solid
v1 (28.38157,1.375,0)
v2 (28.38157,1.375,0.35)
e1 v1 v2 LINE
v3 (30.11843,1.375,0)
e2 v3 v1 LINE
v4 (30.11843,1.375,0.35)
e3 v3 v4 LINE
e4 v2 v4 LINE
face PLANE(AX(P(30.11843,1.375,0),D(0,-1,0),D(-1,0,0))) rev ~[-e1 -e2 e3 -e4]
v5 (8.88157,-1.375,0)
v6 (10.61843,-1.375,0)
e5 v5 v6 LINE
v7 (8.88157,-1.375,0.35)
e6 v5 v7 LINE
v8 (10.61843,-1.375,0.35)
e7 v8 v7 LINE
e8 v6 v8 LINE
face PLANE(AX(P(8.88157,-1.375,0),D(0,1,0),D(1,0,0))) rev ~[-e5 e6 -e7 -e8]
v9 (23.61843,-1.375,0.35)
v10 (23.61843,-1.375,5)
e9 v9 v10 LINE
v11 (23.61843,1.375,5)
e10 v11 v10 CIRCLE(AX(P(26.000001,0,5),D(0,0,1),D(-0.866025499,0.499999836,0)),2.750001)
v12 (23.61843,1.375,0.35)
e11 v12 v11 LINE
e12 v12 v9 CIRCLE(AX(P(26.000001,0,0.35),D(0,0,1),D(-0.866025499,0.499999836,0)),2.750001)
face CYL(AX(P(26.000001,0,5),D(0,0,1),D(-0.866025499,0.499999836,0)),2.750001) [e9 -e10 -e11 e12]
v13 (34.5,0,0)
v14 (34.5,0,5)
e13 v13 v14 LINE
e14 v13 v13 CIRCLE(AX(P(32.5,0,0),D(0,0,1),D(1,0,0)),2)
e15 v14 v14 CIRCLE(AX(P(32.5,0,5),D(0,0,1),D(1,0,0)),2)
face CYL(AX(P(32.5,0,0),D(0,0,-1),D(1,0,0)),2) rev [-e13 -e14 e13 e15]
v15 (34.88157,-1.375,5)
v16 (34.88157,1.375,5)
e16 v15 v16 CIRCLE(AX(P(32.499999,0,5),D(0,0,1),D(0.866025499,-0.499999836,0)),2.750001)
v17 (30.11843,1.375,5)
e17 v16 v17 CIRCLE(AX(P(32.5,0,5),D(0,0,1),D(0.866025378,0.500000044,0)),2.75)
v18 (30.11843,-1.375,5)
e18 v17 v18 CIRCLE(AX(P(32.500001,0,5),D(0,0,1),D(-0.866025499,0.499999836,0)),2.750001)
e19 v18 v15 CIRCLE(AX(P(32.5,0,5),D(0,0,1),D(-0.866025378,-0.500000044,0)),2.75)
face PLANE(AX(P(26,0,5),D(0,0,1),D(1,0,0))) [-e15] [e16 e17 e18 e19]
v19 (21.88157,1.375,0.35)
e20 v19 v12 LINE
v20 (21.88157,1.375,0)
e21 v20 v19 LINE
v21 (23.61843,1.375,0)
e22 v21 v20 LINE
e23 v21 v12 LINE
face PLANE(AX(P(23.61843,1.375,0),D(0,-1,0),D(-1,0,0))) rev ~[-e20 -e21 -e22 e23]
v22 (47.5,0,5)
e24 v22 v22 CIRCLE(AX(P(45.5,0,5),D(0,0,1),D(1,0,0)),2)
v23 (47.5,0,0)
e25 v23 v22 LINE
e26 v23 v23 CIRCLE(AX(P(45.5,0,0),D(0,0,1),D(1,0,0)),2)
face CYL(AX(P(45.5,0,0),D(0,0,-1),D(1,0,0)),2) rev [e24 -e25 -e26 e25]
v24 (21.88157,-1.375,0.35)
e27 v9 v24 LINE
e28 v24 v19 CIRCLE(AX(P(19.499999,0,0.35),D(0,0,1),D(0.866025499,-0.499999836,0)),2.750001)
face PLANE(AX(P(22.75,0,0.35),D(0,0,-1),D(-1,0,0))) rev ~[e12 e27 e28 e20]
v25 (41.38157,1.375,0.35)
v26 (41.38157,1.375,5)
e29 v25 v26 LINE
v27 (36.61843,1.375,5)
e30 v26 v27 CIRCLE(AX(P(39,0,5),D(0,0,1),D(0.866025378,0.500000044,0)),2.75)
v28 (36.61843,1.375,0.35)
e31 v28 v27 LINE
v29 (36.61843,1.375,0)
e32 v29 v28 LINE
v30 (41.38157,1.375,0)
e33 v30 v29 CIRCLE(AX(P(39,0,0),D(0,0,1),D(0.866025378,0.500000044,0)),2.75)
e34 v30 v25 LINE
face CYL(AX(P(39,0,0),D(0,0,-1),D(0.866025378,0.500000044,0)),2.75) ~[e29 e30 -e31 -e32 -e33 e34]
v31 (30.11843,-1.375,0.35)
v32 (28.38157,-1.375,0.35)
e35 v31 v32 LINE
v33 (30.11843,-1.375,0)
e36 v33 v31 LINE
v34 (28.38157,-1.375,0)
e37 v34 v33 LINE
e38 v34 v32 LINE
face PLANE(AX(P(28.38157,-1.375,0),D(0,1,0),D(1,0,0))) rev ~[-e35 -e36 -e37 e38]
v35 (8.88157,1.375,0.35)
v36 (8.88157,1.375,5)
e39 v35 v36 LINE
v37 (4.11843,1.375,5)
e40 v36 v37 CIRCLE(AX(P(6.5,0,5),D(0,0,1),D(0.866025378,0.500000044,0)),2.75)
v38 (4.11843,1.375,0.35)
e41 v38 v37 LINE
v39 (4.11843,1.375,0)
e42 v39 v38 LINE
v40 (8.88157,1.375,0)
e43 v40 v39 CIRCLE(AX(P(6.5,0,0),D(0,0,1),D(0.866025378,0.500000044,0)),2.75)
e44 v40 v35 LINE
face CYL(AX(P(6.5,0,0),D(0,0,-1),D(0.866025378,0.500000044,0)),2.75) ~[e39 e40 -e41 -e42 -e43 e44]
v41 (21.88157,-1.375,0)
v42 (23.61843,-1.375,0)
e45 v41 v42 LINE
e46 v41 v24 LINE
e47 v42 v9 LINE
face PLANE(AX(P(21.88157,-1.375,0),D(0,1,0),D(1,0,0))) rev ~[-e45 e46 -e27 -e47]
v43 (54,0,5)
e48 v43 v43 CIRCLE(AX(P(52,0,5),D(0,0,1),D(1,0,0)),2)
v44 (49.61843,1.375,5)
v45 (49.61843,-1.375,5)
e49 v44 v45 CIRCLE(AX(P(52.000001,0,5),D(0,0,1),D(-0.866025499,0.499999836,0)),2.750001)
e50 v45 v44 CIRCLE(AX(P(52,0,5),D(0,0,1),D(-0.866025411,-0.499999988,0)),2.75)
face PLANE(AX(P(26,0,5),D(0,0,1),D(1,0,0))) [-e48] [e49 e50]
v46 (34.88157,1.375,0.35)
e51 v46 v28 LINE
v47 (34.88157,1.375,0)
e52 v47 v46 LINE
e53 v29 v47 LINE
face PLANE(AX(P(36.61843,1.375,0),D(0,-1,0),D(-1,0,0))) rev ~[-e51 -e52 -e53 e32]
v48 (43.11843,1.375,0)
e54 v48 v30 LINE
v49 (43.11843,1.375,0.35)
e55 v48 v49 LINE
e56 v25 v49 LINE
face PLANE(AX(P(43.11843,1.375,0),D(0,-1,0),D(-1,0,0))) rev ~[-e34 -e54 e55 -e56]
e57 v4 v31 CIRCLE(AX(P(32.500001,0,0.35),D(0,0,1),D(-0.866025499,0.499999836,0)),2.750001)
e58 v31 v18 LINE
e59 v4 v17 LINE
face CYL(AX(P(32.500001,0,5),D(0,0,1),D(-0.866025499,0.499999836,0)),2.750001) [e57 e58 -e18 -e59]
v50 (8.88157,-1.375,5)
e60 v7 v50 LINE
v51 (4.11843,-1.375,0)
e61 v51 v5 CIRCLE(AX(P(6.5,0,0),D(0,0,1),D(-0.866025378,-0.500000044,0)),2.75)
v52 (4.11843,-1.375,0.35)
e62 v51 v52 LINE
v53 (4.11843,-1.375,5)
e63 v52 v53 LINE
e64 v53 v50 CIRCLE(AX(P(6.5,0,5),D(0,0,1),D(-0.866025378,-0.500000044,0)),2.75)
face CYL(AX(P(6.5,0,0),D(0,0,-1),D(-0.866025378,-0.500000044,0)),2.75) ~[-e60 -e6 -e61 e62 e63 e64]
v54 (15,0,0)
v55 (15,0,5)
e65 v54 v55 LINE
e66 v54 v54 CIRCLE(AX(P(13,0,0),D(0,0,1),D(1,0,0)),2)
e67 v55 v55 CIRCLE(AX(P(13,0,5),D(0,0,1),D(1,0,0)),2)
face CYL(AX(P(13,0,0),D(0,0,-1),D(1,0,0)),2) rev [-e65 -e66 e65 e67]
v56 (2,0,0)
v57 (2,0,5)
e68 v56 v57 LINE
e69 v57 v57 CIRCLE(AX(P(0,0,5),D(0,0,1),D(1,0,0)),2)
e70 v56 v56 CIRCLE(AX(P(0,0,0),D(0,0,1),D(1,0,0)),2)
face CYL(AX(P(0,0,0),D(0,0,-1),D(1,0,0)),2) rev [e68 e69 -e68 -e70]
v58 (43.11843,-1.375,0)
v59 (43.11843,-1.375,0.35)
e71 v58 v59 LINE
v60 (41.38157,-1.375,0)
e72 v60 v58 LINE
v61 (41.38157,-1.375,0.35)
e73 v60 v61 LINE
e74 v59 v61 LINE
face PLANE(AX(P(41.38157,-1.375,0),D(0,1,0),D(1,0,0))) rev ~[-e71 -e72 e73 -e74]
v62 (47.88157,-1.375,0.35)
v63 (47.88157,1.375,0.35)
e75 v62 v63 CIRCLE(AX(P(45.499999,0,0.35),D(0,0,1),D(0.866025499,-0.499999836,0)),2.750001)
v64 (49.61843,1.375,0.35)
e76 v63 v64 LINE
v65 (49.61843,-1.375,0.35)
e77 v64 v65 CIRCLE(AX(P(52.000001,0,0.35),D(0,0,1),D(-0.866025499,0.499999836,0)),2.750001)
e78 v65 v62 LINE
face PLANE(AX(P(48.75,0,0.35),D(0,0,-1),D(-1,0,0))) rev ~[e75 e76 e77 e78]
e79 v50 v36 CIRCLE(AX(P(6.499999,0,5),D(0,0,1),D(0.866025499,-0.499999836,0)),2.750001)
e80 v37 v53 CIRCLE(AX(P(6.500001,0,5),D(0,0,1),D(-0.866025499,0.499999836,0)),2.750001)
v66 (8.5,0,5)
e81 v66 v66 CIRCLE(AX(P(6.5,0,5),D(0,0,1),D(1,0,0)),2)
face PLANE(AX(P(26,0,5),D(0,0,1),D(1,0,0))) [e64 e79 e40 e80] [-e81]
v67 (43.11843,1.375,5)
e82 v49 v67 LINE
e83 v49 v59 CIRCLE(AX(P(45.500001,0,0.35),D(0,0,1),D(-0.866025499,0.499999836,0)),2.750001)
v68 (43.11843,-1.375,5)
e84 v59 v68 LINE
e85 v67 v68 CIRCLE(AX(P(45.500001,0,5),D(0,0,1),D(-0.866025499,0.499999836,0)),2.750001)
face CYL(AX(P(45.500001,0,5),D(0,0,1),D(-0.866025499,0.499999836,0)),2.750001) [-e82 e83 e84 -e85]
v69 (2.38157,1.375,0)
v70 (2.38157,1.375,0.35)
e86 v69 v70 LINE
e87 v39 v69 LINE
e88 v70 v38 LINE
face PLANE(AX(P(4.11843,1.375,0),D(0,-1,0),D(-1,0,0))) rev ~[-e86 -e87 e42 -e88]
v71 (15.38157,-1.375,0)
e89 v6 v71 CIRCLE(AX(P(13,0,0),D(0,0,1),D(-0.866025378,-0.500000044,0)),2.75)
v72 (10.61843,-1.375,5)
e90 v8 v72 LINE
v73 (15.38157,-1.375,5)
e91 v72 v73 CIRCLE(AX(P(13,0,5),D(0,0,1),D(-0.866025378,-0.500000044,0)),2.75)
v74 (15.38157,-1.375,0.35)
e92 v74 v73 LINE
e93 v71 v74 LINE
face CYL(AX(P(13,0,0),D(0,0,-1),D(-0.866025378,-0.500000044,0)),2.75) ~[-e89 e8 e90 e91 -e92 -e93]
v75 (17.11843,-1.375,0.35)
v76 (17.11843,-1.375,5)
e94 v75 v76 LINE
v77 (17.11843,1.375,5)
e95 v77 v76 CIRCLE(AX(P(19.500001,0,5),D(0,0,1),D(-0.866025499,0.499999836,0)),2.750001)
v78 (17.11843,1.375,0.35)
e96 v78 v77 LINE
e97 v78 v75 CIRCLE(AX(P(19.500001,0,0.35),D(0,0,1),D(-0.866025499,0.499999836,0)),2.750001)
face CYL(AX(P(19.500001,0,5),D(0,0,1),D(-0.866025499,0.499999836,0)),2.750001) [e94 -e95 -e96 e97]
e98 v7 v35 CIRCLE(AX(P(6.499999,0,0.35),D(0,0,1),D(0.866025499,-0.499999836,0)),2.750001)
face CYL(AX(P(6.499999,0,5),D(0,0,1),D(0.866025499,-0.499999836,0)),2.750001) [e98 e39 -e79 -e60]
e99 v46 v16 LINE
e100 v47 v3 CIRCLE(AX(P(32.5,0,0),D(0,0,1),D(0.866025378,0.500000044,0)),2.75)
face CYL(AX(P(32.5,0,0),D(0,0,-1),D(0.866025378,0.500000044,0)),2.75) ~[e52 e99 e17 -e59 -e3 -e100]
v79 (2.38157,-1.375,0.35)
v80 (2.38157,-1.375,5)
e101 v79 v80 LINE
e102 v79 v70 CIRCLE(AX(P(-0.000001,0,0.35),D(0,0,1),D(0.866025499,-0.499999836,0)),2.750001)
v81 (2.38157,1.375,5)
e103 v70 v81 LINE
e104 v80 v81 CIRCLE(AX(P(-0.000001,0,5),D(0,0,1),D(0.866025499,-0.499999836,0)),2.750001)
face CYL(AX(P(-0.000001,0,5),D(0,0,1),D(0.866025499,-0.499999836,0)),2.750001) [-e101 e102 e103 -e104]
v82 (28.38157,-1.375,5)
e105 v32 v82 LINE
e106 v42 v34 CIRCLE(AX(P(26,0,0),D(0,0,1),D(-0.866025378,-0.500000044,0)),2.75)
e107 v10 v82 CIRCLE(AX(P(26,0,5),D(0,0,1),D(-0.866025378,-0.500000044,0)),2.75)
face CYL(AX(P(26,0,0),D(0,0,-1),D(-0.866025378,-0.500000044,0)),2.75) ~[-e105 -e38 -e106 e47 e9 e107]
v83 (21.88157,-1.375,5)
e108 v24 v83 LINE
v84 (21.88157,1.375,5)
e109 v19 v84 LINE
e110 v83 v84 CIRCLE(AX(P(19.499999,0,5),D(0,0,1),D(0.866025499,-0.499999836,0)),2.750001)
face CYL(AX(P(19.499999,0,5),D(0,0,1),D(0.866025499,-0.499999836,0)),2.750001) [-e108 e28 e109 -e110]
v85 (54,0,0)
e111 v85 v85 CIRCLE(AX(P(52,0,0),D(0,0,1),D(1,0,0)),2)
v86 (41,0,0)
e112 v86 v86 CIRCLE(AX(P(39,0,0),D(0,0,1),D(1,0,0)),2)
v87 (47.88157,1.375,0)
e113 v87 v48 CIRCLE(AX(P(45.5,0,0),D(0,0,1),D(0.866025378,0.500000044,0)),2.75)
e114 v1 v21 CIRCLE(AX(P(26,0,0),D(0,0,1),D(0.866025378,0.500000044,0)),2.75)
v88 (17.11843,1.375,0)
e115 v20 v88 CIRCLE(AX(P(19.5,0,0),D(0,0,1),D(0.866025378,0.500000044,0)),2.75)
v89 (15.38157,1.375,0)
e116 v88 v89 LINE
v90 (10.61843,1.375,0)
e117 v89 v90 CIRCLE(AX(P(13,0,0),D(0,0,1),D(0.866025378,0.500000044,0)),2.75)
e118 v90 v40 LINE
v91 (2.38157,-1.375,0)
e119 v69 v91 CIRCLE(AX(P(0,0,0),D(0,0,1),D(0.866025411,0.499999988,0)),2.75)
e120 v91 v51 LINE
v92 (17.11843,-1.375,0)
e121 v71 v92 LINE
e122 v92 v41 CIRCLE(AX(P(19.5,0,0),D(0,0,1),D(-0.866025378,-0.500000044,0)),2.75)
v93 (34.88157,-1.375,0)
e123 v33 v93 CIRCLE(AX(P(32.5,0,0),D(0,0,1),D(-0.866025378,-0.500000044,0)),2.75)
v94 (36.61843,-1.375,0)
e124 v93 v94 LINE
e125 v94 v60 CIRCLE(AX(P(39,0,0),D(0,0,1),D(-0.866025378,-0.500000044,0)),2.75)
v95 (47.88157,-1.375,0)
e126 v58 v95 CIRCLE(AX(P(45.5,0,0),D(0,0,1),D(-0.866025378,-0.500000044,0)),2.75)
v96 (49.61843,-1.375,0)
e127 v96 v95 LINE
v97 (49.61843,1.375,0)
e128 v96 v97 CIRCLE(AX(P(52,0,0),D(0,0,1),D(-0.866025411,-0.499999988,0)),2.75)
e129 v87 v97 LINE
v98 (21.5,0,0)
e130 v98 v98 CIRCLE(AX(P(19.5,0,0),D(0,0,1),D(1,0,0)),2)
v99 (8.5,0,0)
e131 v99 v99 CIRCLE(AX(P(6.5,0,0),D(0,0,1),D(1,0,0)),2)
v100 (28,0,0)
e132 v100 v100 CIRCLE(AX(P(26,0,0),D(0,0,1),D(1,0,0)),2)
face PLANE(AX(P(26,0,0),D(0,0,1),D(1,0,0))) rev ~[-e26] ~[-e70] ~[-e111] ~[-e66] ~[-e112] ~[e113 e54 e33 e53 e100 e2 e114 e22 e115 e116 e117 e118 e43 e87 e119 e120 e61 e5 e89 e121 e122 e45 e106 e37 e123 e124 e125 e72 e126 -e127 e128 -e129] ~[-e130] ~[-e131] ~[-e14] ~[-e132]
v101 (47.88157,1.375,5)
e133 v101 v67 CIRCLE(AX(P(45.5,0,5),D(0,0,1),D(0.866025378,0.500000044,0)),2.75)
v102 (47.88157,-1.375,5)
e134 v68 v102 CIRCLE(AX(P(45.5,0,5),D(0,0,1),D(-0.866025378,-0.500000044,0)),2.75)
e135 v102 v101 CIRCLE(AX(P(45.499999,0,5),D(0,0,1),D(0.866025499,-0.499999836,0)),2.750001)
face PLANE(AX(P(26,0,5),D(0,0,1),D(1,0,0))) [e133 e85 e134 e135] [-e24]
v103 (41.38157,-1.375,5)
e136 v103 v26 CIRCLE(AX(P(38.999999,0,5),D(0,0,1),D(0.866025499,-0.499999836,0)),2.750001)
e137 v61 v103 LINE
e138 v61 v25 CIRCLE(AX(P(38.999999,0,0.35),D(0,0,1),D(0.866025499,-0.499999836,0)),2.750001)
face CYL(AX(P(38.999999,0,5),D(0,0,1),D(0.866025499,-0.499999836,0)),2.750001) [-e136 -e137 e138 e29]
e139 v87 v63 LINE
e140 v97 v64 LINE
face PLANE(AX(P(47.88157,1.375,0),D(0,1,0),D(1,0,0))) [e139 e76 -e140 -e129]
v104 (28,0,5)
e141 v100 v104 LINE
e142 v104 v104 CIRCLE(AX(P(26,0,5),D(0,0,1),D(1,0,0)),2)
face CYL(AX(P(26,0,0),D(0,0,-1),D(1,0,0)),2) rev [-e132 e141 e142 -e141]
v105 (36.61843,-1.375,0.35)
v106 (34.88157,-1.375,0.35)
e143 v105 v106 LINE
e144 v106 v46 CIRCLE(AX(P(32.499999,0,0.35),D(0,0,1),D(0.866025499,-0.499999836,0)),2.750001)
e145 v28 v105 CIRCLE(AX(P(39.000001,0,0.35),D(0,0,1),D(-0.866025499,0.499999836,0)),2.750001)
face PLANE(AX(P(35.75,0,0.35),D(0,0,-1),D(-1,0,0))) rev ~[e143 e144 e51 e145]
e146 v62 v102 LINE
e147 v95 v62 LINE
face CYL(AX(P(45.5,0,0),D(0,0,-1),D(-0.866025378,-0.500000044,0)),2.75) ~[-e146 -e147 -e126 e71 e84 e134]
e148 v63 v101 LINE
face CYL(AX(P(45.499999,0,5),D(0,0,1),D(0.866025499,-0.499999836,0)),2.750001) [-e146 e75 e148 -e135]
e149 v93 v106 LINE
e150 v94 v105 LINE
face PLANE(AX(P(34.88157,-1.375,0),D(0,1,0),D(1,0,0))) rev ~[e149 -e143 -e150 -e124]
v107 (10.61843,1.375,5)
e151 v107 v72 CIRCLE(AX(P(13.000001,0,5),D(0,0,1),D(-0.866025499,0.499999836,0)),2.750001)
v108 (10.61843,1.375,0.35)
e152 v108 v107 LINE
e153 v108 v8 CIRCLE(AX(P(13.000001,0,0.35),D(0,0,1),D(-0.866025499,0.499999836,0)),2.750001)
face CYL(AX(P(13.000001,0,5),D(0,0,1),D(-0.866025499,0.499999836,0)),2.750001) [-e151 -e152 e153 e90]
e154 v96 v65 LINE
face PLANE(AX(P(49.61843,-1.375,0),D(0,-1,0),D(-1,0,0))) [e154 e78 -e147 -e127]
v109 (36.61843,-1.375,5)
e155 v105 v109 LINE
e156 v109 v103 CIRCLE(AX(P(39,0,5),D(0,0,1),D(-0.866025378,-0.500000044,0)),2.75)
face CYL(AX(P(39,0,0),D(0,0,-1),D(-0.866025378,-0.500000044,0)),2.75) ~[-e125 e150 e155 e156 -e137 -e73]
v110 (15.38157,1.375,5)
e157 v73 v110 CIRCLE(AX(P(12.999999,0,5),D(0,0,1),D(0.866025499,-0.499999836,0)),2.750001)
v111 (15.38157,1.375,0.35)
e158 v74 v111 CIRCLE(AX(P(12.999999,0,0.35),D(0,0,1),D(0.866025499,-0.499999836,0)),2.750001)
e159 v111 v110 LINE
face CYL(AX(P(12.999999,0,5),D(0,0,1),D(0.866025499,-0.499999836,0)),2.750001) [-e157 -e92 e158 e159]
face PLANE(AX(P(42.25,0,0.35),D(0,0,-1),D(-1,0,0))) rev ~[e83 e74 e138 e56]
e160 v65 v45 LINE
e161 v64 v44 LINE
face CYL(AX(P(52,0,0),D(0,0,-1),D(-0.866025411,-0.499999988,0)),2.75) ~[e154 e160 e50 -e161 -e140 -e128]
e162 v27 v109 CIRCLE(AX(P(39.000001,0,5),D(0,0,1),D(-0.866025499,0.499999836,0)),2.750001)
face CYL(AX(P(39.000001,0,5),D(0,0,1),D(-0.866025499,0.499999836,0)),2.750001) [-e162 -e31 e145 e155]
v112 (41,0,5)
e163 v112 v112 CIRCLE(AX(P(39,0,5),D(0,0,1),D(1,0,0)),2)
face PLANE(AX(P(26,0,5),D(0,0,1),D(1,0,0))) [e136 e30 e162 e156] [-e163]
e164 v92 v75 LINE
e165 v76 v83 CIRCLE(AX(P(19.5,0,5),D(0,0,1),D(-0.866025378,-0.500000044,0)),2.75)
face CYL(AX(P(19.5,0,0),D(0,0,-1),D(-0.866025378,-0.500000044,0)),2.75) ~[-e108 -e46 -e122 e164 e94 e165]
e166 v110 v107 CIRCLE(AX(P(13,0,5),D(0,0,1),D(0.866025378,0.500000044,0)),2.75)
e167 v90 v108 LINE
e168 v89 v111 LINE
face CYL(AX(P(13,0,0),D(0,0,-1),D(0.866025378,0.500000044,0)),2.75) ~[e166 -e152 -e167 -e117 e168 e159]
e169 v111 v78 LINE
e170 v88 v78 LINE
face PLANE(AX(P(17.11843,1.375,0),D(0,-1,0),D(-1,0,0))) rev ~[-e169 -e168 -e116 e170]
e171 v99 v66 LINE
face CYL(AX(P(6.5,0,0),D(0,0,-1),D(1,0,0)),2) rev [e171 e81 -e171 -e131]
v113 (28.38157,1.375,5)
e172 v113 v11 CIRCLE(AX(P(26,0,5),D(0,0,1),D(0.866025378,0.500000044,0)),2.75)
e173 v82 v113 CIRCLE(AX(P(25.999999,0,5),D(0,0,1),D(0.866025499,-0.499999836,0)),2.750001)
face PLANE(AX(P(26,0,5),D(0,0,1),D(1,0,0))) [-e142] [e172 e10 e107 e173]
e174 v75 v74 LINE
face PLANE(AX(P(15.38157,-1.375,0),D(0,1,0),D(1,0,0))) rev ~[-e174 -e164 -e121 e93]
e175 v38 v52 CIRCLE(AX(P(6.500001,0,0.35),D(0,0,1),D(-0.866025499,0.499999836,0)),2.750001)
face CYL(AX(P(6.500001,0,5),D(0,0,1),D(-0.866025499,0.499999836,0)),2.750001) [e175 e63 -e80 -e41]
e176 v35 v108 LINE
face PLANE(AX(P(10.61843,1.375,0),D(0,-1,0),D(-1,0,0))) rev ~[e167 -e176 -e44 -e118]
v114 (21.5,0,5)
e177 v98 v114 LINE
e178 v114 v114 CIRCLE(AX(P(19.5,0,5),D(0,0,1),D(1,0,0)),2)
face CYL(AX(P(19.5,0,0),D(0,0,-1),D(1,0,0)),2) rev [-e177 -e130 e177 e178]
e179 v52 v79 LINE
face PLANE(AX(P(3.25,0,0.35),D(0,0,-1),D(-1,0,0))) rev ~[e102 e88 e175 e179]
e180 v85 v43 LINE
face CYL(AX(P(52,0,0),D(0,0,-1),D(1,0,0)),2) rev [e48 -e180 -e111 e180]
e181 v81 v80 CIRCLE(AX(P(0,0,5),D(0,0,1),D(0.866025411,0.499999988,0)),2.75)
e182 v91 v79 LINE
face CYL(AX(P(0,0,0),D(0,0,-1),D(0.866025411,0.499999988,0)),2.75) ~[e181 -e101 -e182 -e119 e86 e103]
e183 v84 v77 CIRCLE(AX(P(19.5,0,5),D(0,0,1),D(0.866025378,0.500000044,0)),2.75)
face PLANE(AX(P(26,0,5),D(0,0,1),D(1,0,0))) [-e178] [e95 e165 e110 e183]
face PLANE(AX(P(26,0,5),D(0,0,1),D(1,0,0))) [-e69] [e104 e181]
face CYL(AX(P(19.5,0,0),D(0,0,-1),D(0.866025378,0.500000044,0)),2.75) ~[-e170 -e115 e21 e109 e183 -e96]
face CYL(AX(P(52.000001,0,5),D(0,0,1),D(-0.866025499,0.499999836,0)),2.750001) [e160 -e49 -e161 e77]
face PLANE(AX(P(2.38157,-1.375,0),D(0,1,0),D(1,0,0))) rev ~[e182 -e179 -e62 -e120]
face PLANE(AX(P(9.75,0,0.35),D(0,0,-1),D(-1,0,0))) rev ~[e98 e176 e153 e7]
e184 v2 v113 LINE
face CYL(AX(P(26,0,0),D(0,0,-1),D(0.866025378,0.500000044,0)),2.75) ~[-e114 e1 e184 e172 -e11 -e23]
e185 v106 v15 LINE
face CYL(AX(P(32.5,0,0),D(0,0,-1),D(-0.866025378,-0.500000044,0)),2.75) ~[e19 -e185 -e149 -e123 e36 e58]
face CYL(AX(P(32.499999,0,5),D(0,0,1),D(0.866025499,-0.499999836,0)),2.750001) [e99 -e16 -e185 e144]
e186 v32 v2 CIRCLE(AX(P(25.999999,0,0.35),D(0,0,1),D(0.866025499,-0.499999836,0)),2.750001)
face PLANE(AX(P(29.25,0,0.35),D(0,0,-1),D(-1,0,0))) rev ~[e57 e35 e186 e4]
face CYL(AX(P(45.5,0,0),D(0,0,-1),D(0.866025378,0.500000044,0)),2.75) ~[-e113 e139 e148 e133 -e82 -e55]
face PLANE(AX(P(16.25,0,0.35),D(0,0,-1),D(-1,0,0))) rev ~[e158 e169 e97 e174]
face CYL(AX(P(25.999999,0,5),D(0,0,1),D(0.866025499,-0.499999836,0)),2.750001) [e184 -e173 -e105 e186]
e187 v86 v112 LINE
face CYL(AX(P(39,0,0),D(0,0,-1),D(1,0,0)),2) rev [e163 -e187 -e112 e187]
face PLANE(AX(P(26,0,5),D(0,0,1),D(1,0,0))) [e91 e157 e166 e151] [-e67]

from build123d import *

# Parameters (mm, degrees)
SKETCH_R     = 2
PAD_DEPTH    = 5
POCKET_DEPTH = 4.65


with BuildPart() as part:
    # Sketch → Pad (new body)
    with BuildSketch(Plane.XY):
        with BuildLine():
            ThreePointArc((49.61843, -1.375), (54.75, 0), (49.61843, 1.375))
            Line((47.88157, 1.375), (49.61843, 1.375))
            ThreePointArc((47.88157, 1.375), (45.5, 2.75), (43.11843, 1.375))
            Line((43.11843, 1.375), (41.38157, 1.375))
            ThreePointArc((41.38157, 1.375), (39, 2.75), (36.61843, 1.375))
            Line((36.61843, 1.375), (34.88157, 1.375))
            ThreePointArc((34.88157, 1.375), (32.5, 2.75), (30.11843, 1.375))
            Line((30.11843, 1.375), (28.38157, 1.375))
            ThreePointArc((28.38157, 1.375), (26, 2.75), (23.61843, 1.375))
            Line((23.61843, 1.375), (21.88157, 1.375))
            ThreePointArc((21.88157, 1.375), (19.5, 2.75), (17.11843, 1.375))
            Line((17.11843, 1.375), (15.38157, 1.375))
            ThreePointArc((15.38157, 1.375), (13, 2.75), (10.61843, 1.375))
            Line((10.61843, 1.375), (8.88157, 1.375))
            ThreePointArc((8.88157, 1.375), (6.5, 2.75), (4.11843, 1.375))
            Line((4.11843, 1.375), (2.38157, 1.375))
            ThreePointArc((2.38157, 1.375), (-2.75, 0), (2.38157, -1.375))
            Line((2.38157, -1.375), (4.11843, -1.375))
            ThreePointArc((4.11843, -1.375), (6.5, -2.75), (8.88157, -1.375))
            Line((8.88157, -1.375), (10.61843, -1.375))
            ThreePointArc((10.61843, -1.375), (13, -2.75), (15.38157, -1.375))
            Line((15.38157, -1.375), (17.11843, -1.375))
            ThreePointArc((17.11843, -1.375), (19.5, -2.75), (21.88157, -1.375))
            Line((21.88157, -1.375), (23.61843, -1.375))
            ThreePointArc((23.61843, -1.375), (26, -2.75), (28.38157, -1.375))
            Line((28.38157, -1.375), (30.11843, -1.375))
            ThreePointArc((30.11843, -1.375), (32.5, -2.75), (34.88157, -1.375))
            Line((34.88157, -1.375), (36.61843, -1.375))
            ThreePointArc((36.61843, -1.375), (39, -2.75), (41.38157, -1.375))
            Line((41.38157, -1.375), (43.11843, -1.375))
            ThreePointArc((43.11843, -1.375), (45.5, -2.75), (47.88157, -1.375))
            Line((49.61843, -1.375), (47.88157, -1.375))
        make_face()
        Circle(SKETCH_R, mode=Mode.SUBTRACT)
        with Locations((6.5, 0)):
            Circle(SKETCH_R, mode=Mode.SUBTRACT)
        with Locations((13, 0)):
            Circle(SKETCH_R, mode=Mode.SUBTRACT)
        with Locations((19.5, 0)):
            Circle(SKETCH_R, mode=Mode.SUBTRACT)
        with Locations((26, 0)):
            Circle(SKETCH_R, mode=Mode.SUBTRACT)
        with Locations((32.5, 0)):
            Circle(SKETCH_R, mode=Mode.SUBTRACT)
        with Locations((39, 0)):
            Circle(SKETCH_R, mode=Mode.SUBTRACT)
        with Locations((45.5, 0)):
            Circle(SKETCH_R, mode=Mode.SUBTRACT)
        with Locations((52, 0)):
            Circle(SKETCH_R, mode=Mode.SUBTRACT)
    extrude(amount=PAD_DEPTH)

    # Sketch001 (on Face43 of Pad) → Pocket (cut)
    with BuildSketch(Plane.XY.offset(5)):
        with BuildLine():
            ThreePointArc((2.38157, -1.375), (2.75, 0), (2.38157, 1.375))
            Line((2.38157, 1.375), (4.11843, 1.375))
            ThreePointArc((4.11843, 1.375), (3.75, 0), (4.11843, -1.375))
            Line((4.11843, -1.375), (2.38157, -1.375))
        make_face()
        with BuildLine():
            ThreePointArc((8.88157, -1.375), (9.25, 0), (8.88157, 1.375))
            Line((8.88157, 1.375), (10.61843, 1.375))
            ThreePointArc((10.61843, 1.375), (10.25, 0), (10.61843, -1.375))
            Line((10.61843, -1.375), (8.88157, -1.375))
        make_face()
        with BuildLine():
            ThreePointArc((15.38157, -1.375), (15.75, 0), (15.38157, 1.375))
            Line((15.38157, 1.375), (17.11843, 1.375))
            ThreePointArc((17.11843, 1.375), (16.75, 0), (17.11843, -1.375))
            Line((17.11843, -1.375), (15.38157, -1.375))
        make_face()
        with BuildLine():
            ThreePointArc((23.61843, 1.375), (23.25, 0), (23.61843, -1.375))
            Line((23.61843, -1.375), (21.88157, -1.375))
            ThreePointArc((21.88157, -1.375), (22.25, 0), (21.88157, 1.375))
            Line((21.88157, 1.375), (23.61843, 1.375))
        make_face()
        with BuildLine():
            ThreePointArc((28.38157, -1.375), (28.75, 0), (28.38157, 1.375))
            Line((28.38157, 1.375), (30.11843, 1.375))
            ThreePointArc((30.11843, 1.375), (29.75, 0), (30.11843, -1.375))
            Line((30.11843, -1.375), (28.38157, -1.375))
        make_face()
        with BuildLine():
            ThreePointArc((34.88157, -1.375), (35.25, 0), (34.88157, 1.375))
            Line((34.88157, 1.375), (36.61843, 1.375))
            ThreePointArc((36.61843, 1.375), (36.25, 0), (36.61843, -1.375))
            Line((36.61843, -1.375), (34.88157, -1.375))
        make_face()
        with BuildLine():
            ThreePointArc((41.38157, -1.375), (41.75, 0), (41.38157, 1.375))
            Line((41.38157, 1.375), (43.11843, 1.375))
            ThreePointArc((43.11843, 1.375), (42.75, 0), (43.11843, -1.375))
            Line((43.11843, -1.375), (41.38157, -1.375))
        make_face()
        with BuildLine():
            ThreePointArc((47.88157, -1.375), (48.25, 0), (47.88157, 1.375))
            Line((47.88157, 1.375), (49.61843, 1.375))
            ThreePointArc((49.61843, 1.375), (49.25, 0), (49.61843, -1.375))
            Line((49.61843, -1.375), (47.88157, -1.375))
        make_face()
    extrude(amount=-POCKET_DEPTH, mode=Mode.SUBTRACT)


solid = part.part
